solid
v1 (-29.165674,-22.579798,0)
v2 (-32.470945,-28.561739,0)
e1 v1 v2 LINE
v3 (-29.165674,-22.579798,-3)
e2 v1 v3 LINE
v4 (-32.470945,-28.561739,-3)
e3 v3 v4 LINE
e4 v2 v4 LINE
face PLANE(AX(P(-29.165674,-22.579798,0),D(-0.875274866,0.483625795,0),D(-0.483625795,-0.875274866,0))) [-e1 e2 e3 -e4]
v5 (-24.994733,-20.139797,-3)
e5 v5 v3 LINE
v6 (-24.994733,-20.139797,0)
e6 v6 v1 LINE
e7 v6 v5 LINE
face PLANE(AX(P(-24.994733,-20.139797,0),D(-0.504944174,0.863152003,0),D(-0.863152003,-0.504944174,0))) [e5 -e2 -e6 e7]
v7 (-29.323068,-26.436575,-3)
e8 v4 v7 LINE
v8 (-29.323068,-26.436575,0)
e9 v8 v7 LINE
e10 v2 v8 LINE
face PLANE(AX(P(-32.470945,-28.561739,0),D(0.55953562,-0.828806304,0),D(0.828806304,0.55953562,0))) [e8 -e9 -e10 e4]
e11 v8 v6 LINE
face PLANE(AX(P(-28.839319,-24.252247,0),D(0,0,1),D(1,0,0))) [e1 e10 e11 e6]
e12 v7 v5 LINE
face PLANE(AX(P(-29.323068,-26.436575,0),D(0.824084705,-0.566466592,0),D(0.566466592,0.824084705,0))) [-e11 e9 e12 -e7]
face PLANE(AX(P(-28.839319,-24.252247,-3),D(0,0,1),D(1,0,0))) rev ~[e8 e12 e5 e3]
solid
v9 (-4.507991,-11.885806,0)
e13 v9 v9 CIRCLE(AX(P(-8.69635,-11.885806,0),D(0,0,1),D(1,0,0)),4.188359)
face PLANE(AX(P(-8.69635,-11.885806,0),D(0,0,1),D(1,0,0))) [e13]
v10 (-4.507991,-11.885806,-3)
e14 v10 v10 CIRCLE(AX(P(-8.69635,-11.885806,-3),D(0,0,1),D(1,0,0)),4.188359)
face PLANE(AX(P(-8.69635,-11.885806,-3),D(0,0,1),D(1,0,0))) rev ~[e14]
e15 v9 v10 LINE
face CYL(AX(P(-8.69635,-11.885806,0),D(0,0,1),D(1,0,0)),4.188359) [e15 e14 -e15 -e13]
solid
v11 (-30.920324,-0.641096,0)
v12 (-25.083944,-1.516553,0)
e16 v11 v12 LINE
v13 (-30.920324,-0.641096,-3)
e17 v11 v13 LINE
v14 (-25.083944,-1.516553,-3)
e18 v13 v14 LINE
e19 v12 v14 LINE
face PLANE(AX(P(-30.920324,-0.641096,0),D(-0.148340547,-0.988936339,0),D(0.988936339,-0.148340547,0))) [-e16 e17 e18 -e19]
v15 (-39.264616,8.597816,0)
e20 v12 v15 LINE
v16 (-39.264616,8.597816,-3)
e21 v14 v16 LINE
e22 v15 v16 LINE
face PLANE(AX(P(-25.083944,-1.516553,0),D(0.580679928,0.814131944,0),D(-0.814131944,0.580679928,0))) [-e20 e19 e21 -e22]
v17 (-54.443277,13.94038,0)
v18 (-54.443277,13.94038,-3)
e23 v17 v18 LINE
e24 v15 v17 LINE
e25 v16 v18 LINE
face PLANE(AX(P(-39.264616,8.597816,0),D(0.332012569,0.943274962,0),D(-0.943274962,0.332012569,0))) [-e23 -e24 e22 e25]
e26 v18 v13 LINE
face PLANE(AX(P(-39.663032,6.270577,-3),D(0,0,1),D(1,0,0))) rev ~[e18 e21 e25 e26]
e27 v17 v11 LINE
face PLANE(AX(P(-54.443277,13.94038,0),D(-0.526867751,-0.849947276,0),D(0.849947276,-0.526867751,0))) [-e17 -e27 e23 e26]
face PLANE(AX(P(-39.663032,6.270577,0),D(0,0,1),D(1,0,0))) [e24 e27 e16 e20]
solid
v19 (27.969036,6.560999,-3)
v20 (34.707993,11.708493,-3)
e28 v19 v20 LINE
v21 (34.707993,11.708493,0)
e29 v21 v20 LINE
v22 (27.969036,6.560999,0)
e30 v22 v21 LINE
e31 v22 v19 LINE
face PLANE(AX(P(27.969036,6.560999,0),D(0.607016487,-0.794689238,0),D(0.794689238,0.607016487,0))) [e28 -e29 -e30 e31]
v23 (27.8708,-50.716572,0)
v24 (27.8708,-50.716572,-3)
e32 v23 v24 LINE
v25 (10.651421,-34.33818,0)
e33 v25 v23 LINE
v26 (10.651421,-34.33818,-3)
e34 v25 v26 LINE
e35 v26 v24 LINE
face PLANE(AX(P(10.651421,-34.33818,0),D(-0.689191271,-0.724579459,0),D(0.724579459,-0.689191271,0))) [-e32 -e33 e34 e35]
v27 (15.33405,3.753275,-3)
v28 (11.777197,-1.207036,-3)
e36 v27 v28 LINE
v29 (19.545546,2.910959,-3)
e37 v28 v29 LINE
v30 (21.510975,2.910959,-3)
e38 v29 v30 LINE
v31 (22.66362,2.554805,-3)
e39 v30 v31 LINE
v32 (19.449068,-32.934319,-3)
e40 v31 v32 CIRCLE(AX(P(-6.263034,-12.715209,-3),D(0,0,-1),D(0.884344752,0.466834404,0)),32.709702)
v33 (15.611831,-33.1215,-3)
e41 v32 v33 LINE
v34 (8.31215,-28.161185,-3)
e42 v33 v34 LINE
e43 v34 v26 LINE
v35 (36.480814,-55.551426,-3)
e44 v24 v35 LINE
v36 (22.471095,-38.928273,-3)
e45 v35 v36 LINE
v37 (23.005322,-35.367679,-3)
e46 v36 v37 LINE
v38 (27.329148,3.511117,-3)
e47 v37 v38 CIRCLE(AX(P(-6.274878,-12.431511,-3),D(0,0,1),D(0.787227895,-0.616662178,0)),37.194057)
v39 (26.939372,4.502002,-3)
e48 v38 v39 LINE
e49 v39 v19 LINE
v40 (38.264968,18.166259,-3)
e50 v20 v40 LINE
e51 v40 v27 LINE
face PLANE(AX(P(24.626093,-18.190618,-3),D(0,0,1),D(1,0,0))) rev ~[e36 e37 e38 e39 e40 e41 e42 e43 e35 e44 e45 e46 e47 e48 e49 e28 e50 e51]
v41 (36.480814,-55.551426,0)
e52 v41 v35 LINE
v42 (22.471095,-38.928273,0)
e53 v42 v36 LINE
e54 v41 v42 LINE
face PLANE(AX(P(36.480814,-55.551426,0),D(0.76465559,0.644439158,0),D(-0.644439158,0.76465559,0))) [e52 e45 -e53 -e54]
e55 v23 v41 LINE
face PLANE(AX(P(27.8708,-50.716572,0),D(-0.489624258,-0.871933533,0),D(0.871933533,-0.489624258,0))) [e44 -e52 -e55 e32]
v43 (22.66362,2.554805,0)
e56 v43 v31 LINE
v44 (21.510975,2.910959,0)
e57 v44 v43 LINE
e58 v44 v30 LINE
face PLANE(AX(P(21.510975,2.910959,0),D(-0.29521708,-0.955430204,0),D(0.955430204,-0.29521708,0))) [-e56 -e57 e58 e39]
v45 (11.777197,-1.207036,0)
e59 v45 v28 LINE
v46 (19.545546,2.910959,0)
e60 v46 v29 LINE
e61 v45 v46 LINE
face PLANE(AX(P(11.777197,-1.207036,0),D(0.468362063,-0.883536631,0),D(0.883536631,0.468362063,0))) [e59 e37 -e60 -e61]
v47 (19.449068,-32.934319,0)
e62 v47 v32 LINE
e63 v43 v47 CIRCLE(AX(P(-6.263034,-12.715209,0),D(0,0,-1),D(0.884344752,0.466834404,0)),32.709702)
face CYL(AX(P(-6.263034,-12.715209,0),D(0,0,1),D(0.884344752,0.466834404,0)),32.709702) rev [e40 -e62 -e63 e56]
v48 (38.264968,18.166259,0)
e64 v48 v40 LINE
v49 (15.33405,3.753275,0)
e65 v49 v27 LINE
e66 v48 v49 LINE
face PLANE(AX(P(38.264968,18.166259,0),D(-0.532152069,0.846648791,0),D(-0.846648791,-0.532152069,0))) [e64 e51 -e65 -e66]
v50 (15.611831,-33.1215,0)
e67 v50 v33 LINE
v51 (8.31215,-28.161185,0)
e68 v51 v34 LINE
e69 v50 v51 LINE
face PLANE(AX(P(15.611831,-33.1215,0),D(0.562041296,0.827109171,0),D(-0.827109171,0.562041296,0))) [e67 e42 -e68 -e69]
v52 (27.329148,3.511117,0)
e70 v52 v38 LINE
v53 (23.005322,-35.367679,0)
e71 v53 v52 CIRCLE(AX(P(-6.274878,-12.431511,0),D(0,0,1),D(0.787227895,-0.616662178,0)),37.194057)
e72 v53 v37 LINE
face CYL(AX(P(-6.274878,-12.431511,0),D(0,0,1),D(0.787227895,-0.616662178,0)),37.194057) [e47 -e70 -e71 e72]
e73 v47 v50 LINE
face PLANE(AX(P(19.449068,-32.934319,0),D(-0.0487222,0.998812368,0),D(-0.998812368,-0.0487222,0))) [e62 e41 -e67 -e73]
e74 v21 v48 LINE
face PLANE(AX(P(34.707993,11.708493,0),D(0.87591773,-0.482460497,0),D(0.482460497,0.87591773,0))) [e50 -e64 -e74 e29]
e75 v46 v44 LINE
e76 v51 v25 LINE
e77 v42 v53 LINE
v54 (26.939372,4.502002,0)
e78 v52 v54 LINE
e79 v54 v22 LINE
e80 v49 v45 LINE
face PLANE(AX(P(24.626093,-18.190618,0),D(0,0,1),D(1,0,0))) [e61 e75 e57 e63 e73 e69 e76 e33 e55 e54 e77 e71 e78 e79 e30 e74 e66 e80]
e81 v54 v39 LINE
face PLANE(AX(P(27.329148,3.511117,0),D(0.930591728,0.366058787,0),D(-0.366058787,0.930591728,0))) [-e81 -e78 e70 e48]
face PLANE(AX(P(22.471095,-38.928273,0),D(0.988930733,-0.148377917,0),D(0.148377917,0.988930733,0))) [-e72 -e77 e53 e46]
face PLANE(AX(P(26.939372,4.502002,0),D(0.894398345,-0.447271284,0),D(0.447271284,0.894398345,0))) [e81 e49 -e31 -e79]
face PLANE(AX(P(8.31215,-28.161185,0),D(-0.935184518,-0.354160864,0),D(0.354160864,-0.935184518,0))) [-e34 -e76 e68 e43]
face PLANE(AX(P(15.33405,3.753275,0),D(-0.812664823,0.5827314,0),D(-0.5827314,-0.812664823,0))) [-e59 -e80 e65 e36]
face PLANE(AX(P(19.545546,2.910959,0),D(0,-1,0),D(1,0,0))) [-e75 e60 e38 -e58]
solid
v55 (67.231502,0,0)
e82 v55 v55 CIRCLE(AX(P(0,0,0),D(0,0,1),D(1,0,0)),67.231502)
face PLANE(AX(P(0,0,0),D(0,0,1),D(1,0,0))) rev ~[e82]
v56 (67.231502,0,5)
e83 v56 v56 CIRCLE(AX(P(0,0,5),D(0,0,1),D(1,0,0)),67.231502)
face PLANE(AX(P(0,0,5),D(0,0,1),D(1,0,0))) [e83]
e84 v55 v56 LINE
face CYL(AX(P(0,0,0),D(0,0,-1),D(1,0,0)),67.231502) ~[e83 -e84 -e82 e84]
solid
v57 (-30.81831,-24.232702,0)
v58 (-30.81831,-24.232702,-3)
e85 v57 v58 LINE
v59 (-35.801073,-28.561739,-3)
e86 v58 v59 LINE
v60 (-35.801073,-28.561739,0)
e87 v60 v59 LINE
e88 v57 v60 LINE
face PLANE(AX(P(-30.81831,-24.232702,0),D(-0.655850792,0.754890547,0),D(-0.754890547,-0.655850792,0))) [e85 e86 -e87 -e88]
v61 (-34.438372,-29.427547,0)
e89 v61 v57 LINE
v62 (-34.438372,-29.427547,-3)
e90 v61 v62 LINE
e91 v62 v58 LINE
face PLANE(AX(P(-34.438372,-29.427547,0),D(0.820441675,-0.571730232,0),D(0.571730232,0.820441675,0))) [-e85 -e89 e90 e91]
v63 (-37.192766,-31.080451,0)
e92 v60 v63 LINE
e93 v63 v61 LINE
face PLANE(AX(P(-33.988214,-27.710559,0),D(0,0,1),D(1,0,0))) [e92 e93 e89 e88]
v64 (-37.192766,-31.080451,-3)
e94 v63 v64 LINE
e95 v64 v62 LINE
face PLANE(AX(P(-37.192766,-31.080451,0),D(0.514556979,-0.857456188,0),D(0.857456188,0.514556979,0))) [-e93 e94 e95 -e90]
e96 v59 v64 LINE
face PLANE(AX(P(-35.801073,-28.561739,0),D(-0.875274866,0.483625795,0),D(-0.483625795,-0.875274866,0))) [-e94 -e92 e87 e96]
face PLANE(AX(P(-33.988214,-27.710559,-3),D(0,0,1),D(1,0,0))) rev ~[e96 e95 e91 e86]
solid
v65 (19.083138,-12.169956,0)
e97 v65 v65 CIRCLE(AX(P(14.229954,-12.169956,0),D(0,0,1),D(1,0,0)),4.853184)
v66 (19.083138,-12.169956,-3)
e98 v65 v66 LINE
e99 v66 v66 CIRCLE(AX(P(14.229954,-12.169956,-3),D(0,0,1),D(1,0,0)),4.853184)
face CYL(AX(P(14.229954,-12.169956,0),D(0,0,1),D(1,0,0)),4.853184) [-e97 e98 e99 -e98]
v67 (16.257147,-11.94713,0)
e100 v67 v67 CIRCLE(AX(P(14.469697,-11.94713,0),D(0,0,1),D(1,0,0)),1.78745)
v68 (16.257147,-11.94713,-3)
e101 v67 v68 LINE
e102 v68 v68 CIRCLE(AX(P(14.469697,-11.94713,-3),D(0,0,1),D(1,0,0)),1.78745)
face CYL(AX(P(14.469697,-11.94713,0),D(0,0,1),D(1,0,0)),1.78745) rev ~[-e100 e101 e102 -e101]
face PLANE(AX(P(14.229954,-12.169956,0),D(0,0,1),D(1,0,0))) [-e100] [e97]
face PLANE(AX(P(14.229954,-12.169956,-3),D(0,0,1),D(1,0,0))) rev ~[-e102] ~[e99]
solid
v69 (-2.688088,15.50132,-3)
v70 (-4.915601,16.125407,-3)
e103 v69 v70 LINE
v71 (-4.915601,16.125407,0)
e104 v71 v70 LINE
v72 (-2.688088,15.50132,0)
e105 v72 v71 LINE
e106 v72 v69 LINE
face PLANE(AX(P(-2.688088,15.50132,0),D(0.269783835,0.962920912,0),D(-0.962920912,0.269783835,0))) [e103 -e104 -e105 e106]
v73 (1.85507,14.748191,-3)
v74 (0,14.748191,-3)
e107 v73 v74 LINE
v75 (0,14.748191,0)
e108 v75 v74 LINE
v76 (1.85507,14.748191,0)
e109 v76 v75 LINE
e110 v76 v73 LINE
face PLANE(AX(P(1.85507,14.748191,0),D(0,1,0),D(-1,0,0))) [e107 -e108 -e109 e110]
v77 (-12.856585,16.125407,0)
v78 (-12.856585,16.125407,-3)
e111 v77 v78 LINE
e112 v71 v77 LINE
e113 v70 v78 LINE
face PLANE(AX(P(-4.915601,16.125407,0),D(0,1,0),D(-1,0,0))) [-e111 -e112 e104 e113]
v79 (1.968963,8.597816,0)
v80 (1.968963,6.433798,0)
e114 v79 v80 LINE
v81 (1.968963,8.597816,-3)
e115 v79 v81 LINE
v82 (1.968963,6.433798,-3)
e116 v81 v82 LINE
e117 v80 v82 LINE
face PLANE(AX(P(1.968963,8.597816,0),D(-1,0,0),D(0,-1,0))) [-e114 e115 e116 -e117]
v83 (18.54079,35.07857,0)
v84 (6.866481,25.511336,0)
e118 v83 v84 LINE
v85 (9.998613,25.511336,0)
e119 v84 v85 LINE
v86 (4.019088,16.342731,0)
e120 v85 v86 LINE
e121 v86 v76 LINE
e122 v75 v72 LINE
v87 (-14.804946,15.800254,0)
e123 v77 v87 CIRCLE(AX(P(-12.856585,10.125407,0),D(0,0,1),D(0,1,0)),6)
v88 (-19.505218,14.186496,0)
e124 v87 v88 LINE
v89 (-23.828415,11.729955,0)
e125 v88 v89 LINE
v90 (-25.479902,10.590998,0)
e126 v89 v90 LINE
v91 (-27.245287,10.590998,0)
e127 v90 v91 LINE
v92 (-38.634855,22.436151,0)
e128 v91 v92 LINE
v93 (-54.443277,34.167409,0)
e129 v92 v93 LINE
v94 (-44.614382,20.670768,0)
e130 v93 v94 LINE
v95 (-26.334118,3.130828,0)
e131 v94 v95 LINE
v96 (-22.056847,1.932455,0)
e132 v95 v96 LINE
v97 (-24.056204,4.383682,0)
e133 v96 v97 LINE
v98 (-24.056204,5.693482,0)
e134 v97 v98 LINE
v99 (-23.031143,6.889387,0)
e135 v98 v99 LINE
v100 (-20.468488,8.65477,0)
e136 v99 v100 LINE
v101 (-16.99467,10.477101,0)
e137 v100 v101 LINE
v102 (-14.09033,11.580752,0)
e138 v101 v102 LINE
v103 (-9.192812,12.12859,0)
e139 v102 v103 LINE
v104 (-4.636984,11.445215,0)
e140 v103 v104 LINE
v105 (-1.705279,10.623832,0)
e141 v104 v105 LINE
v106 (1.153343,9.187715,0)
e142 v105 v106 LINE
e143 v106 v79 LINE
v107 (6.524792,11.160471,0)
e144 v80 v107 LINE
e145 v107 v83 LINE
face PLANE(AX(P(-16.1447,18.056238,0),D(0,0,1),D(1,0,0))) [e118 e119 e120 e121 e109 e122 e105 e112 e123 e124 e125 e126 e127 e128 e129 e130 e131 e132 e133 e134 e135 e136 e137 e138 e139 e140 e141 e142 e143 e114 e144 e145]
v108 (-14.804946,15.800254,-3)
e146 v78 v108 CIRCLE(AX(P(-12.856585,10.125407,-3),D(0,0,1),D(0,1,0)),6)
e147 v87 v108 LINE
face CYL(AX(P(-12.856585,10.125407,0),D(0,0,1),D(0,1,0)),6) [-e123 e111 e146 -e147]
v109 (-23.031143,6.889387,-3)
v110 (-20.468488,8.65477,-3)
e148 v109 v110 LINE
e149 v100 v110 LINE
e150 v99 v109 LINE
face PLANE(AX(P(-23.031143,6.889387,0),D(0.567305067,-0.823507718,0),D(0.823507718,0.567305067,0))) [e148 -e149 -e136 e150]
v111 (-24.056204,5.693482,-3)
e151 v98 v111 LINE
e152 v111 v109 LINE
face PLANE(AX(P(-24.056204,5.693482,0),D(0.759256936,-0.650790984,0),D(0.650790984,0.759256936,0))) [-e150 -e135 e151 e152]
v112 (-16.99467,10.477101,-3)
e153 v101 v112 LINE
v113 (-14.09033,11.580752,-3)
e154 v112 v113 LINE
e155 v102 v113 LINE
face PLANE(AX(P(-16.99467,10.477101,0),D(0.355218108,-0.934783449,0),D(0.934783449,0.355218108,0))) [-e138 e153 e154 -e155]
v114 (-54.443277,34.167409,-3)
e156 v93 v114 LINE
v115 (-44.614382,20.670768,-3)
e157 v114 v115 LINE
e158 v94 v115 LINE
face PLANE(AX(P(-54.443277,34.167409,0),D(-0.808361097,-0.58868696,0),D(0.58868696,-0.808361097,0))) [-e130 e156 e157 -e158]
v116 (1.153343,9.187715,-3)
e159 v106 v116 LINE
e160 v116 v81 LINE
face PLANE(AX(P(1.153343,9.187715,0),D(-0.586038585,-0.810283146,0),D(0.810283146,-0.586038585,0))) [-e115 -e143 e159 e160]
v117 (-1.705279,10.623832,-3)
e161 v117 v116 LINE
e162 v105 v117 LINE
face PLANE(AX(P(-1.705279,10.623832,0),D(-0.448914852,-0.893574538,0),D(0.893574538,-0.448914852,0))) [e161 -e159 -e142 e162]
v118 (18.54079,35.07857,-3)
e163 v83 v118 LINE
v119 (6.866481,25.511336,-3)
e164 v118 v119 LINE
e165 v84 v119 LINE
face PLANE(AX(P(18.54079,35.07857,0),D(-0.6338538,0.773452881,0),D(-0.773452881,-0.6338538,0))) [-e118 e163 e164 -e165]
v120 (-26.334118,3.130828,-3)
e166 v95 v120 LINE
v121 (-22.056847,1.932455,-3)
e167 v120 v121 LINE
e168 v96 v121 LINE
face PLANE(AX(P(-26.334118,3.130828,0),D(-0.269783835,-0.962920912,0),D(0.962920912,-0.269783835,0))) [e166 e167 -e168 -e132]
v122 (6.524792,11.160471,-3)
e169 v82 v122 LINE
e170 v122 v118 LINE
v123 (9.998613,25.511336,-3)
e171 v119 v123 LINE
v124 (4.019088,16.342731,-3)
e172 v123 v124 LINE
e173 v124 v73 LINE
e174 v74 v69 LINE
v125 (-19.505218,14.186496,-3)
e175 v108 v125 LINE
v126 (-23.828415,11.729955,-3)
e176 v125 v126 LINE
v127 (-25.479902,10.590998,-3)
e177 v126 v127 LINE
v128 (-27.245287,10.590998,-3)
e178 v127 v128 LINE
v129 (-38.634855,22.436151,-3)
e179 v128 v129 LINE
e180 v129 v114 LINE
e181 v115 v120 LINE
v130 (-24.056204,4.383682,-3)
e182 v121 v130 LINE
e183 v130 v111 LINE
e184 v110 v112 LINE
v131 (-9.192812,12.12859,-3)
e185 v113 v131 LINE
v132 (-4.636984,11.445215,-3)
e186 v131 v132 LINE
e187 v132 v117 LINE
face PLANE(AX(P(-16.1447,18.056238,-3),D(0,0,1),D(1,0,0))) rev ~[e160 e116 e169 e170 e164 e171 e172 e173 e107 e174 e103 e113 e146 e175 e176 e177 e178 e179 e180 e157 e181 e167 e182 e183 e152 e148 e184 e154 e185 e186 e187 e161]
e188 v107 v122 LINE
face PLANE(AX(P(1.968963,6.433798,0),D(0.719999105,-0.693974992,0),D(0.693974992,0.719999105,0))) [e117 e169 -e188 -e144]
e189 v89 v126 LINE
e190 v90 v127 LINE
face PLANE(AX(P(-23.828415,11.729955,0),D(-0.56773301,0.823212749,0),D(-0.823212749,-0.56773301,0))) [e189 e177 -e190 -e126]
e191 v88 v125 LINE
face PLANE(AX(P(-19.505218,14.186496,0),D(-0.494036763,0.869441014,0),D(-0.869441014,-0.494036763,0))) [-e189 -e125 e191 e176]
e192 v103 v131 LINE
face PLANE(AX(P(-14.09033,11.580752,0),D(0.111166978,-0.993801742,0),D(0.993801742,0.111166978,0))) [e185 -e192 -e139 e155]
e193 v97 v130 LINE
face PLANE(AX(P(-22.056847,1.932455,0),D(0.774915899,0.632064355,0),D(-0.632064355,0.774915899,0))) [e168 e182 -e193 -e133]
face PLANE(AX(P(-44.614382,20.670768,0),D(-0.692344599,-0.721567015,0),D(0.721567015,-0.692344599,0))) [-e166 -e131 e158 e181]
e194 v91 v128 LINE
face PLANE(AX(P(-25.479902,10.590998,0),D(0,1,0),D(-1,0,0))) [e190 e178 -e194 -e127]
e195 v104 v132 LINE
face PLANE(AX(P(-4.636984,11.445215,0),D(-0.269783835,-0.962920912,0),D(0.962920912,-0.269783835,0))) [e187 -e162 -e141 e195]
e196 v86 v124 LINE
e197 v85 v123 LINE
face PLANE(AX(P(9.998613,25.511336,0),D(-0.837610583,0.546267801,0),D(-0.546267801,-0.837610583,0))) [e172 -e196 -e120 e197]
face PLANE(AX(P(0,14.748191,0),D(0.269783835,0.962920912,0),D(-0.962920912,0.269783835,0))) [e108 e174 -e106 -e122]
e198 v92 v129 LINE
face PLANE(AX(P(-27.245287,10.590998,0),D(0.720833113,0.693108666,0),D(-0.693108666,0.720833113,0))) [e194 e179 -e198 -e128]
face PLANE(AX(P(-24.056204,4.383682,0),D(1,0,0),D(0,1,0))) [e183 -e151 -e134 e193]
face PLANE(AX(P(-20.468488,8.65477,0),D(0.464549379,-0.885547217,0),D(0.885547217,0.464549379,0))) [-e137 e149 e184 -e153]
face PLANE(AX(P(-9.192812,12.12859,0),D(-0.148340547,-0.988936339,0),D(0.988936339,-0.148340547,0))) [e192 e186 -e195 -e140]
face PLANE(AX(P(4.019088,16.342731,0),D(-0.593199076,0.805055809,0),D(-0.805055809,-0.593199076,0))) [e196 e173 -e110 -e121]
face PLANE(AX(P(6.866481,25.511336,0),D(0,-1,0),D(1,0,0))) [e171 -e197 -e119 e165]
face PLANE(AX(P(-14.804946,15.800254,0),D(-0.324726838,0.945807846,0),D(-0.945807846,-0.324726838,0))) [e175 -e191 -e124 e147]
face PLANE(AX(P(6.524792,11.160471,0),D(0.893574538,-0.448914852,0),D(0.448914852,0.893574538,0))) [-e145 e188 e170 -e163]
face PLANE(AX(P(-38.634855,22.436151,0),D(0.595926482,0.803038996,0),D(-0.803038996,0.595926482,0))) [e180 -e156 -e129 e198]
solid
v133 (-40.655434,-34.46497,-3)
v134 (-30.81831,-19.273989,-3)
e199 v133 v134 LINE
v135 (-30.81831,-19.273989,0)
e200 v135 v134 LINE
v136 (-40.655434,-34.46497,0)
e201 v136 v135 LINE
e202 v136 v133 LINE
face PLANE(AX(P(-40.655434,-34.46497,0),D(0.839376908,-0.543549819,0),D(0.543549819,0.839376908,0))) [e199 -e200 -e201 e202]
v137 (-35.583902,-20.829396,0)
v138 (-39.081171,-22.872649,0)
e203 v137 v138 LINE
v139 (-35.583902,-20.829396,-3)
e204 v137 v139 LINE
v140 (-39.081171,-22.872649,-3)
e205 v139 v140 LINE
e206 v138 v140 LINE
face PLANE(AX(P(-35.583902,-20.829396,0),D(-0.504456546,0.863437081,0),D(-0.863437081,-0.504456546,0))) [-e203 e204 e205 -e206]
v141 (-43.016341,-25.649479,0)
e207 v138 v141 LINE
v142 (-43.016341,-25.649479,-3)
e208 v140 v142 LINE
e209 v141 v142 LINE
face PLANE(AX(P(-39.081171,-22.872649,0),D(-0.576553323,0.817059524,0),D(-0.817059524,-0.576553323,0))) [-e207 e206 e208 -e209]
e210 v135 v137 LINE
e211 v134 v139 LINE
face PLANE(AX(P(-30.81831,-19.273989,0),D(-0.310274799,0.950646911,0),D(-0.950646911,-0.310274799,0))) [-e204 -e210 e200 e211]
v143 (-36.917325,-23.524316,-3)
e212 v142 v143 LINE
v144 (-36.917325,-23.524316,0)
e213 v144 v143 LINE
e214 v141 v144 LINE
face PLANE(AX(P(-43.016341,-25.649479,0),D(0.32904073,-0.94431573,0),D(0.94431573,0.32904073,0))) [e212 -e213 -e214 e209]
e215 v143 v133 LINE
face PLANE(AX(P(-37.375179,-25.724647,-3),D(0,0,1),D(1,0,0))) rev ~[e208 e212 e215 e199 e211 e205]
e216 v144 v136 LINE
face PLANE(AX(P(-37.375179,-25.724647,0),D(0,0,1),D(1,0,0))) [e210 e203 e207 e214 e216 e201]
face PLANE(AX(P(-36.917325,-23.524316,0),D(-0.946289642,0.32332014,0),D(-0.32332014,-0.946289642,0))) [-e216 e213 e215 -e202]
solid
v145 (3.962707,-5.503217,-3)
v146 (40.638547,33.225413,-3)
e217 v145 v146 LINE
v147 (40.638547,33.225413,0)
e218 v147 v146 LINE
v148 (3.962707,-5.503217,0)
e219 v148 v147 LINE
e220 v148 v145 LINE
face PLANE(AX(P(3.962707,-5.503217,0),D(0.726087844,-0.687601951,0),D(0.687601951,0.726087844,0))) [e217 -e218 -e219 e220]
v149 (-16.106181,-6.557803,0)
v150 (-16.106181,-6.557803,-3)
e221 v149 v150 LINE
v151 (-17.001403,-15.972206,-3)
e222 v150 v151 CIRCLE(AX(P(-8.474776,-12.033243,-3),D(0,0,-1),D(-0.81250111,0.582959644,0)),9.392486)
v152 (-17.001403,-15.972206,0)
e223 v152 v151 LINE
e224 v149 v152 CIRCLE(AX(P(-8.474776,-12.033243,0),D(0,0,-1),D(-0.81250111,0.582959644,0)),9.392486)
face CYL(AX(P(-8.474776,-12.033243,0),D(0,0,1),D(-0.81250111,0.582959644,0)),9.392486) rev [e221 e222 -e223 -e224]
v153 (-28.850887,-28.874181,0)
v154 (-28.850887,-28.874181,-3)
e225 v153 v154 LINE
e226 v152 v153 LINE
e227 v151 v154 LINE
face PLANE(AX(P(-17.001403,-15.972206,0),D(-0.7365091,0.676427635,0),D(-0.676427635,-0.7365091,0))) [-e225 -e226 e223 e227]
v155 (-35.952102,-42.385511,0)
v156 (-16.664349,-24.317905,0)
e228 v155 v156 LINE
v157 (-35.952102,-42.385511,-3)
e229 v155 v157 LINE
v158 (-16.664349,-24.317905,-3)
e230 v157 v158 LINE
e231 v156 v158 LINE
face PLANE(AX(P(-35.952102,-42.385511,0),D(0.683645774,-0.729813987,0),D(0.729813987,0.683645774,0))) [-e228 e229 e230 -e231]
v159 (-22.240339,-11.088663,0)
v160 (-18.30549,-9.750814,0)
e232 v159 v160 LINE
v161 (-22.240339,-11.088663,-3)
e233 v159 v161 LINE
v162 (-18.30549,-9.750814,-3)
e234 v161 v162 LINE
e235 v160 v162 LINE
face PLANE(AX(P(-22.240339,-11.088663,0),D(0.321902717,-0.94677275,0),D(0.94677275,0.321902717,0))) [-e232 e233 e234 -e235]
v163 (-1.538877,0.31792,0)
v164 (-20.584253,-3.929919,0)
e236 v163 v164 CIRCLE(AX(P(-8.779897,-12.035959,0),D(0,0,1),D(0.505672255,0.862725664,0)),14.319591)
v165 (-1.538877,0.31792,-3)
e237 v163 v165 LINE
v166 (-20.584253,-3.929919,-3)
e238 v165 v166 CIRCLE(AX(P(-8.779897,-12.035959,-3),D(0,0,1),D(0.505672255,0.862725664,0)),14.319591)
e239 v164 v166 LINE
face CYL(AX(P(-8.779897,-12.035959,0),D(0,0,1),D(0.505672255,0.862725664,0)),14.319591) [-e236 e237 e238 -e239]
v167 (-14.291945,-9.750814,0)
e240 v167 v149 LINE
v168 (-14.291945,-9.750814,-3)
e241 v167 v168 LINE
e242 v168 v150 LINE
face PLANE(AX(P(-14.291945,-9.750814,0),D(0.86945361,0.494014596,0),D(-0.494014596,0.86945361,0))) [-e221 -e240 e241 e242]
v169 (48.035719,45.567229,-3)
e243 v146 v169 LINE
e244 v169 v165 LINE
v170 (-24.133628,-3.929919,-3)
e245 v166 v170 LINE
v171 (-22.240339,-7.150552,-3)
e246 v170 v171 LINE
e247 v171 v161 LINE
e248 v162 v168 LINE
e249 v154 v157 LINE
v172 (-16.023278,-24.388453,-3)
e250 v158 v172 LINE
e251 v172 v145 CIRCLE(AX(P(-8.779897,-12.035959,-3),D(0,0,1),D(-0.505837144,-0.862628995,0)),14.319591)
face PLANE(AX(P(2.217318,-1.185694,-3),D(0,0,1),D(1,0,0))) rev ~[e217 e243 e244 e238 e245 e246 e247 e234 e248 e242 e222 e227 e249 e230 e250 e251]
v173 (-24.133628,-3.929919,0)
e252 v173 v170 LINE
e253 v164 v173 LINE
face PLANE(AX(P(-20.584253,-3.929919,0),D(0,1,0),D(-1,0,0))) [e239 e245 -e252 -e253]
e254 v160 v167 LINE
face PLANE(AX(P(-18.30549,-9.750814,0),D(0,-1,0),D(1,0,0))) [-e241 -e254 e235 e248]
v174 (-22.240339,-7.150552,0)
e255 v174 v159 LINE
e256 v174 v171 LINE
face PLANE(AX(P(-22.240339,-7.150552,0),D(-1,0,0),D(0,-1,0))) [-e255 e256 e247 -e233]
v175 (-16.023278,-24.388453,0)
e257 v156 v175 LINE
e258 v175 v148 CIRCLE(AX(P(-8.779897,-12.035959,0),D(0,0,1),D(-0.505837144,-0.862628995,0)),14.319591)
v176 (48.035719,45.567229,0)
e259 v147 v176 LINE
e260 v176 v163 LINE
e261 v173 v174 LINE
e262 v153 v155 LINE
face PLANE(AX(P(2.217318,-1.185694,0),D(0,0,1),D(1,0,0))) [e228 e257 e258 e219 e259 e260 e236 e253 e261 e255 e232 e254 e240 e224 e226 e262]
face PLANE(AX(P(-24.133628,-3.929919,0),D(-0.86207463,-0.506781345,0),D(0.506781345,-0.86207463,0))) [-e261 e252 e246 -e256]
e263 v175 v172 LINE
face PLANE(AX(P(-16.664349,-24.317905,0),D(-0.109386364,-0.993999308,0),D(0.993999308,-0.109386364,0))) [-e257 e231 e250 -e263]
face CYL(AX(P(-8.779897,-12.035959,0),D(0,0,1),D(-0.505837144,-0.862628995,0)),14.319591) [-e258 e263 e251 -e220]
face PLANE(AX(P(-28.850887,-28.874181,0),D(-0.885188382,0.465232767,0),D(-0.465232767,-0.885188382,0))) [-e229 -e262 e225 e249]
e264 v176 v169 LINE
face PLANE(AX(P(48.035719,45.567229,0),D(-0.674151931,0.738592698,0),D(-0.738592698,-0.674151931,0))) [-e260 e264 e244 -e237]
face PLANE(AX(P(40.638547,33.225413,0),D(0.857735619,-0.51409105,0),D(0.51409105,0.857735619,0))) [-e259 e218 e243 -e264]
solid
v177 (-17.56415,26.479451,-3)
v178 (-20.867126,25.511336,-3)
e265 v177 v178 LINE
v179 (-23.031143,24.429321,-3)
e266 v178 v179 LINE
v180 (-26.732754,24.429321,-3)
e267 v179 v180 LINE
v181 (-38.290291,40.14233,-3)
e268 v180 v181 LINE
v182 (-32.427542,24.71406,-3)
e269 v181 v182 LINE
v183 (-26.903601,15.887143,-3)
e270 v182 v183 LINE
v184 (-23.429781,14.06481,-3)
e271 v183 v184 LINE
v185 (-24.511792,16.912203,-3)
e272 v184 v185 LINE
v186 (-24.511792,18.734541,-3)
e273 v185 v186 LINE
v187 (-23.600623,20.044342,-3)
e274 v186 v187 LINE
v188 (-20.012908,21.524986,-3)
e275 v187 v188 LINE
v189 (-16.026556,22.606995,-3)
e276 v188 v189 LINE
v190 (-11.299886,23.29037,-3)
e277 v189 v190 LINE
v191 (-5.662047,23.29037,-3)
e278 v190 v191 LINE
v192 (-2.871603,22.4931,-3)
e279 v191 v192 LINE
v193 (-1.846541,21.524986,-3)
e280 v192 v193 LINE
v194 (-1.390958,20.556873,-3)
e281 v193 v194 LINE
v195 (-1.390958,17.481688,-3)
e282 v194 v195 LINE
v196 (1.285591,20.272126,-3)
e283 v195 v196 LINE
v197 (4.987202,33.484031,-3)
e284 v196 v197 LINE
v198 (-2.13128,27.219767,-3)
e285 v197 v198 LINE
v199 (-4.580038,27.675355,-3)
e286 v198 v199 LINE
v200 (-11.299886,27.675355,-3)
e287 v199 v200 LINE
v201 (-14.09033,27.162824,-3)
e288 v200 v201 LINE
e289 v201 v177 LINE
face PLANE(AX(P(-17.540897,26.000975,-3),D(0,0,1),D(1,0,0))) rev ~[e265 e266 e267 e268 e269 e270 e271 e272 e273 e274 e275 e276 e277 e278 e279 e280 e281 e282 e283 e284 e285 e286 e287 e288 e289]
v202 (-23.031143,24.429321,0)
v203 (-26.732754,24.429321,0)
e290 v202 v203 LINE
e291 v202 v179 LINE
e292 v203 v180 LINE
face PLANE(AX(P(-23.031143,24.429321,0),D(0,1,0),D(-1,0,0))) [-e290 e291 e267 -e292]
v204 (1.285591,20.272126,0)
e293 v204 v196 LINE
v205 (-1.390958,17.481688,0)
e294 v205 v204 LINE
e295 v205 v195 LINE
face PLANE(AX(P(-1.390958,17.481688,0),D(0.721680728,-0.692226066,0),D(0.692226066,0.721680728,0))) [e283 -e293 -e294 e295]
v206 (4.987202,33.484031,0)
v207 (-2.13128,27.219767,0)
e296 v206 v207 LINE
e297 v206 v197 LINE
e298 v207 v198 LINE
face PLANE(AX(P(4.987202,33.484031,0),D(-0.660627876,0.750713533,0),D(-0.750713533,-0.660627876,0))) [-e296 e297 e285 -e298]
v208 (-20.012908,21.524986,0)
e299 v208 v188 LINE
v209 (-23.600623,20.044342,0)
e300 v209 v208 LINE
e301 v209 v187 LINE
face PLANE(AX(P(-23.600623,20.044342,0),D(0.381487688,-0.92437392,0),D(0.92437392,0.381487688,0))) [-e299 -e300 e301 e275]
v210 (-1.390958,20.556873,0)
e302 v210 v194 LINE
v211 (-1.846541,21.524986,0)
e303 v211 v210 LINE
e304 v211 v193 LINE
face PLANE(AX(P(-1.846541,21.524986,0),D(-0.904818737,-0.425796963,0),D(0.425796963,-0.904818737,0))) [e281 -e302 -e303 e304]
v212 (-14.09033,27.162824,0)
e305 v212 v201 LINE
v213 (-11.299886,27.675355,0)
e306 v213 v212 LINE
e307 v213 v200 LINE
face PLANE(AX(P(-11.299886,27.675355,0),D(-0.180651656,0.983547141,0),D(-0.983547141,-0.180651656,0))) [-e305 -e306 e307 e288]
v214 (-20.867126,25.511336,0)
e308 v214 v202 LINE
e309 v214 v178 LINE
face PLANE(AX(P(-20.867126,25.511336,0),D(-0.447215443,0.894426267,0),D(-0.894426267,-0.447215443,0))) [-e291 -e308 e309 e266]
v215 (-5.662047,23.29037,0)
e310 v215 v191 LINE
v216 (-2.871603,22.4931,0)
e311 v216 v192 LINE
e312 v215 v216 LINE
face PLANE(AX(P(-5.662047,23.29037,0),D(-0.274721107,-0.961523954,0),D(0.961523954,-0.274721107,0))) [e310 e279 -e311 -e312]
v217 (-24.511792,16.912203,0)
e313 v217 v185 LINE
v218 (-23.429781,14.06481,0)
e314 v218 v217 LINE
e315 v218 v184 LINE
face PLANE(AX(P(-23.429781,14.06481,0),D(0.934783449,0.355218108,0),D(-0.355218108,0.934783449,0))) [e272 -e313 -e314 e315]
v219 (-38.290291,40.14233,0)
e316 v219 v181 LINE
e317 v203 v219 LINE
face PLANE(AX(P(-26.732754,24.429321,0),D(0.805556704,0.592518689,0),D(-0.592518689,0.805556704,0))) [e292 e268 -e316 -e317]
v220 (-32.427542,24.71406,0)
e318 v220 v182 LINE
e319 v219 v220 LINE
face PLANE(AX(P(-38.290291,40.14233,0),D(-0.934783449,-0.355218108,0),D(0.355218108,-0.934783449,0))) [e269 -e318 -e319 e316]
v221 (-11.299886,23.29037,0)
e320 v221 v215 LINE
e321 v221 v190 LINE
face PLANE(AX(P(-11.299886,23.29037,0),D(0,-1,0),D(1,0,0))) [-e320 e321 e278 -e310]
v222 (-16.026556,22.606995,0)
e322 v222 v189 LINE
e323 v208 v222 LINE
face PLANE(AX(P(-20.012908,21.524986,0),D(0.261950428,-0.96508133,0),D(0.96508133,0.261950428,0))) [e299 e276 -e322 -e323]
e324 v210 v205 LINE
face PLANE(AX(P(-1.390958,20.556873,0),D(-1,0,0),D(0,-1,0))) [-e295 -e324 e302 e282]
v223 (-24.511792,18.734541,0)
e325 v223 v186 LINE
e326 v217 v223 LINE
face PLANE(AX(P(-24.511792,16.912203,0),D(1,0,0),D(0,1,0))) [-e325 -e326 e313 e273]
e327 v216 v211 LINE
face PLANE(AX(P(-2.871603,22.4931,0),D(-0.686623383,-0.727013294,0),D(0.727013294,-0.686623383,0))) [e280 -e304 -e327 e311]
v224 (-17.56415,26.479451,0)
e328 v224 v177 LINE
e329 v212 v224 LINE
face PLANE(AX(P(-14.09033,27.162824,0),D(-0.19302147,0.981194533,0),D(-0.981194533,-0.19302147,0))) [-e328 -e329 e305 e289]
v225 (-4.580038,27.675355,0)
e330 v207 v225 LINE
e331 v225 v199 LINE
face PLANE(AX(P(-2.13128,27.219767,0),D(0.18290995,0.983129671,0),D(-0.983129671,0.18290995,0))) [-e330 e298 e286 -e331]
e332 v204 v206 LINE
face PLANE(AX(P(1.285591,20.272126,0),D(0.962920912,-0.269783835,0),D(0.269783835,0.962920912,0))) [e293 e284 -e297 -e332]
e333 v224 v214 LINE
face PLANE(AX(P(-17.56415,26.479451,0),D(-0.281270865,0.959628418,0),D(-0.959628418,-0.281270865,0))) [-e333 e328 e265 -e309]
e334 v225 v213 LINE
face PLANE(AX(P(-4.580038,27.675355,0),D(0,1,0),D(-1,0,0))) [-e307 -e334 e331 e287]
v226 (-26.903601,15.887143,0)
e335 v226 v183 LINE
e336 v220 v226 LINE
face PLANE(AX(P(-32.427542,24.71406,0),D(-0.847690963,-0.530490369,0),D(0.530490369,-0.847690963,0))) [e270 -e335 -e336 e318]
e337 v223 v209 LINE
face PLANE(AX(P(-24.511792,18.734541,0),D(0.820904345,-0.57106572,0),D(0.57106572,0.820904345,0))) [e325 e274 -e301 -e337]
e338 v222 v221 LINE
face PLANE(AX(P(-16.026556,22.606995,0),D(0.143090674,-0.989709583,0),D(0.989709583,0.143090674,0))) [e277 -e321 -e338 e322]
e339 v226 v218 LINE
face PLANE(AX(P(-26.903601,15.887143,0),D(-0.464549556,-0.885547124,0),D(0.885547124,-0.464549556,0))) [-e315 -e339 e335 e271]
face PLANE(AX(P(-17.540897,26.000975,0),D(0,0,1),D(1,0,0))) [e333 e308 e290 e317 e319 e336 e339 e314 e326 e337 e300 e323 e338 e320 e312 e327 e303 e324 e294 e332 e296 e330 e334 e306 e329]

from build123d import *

# Parameters (mm, degrees)
F1_DEPTH = 3
F0_R     = 4.1883585847
F0_R_2   = 4.8531837551
F0_R_3   = 1.7874503883
F0_R_4   = 67.2315018971
F2_DEPTH = 5


with BuildPart() as f1:
    # F0 (on Top) → F1 (new body)
    with BuildSketch(Plane.XY):
        with BuildLine():
            Line((6.524791941, 11.1604705453), (18.5407903045, 35.0785702467))
            Line((18.5407903045, 35.0785702467), (6.8664811552, 25.5113355815))
            Line((6.8664811552, 25.5113355815), (9.9986130372, 25.5113355815))
            Line((9.9986130372, 25.5113355815), (4.0190881118, 16.3427311927))
            Line((4.0190881118, 16.3427311927), (1.8550701207, 14.748191461))
            Line((1.8550701207, 14.748191461), (0, 14.748191461))
            Line((0, 14.748191461), (-2.6880883992, 15.5013195603))
            Line((-2.6880883992, 15.5013195603), (-4.9156010843, 16.1254070699))
            Line((-4.9156010843, 16.1254070699), (-12.8565848023, 16.1254070699))
            ThreePointArc((-12.8565848023, 16.1254070699), (-13.8442379694, 16.0435606013), (-14.8049458285, 15.8002541438))
            Line((-14.8049458285, 15.8002541438), (-19.5052184044, 14.18649649))
            Line((-19.5052184044, 14.18649649), (-23.8284152001, 11.7299547419))
            Line((-23.8284152001, 11.7299547419), (-25.479901582, 10.5909984559))
            Line((-25.479901582, 10.5909984559), (-27.2452868521, 10.5909984559))
            Line((-27.2452868521, 10.5909984559), (-38.6348553002, 22.436151281))
            Line((-38.6348553002, 22.436151281), (-54.4432774186, 34.1674089432))
            Line((-54.4432774186, 34.1674089432), (-44.6143820882, 20.6707678735))
            Line((-44.6143820882, 20.6707678735), (-26.334118098, 3.1308280304))
            Line((-26.334118098, 3.1308280304), (-22.0568471308, 1.9324548836))
            Line((-22.0568471308, 1.9324548836), (-24.0562036633, 4.3836818077))
            Line((-24.0562036633, 4.3836818077), (-24.0562036633, 5.6934817694))
            Line((-24.0562036633, 5.6934817694), (-23.0311434716, 6.8893865682))
            Line((-23.0311434716, 6.8893865682), (-20.4684883356, 8.6547704414))
            Line((-20.4684883356, 8.6547704414), (-16.9946700335, 10.4771014303))
            Line((-16.9946700335, 10.4771014303), (-14.09033034, 11.5807517488))
            Line((-14.09033034, 11.5807517488), (-9.1928122565, 12.1285896748))
            Line((-9.1928122565, 12.1285896748), (-4.6369838528, 11.4452149719))
            Line((-4.6369838528, 11.4452149719), (-1.7052790924, 10.6238322991))
            Line((-1.7052790924, 10.6238322991), (1.1533434658, 9.1877146974))
            Line((1.1533434658, 9.1877146974), (1.9689633045, 8.5978163406))
            Line((1.9689633045, 8.5978163406), (1.9689633045, 6.4337980002))
            Line((1.9689633045, 6.4337980002), (6.524791941, 11.1604705453))
        make_face()
    extrude(amount=-F1_DEPTH)


with BuildPart() as f1b:
    # F0 (on Top) → F1, piece 2 (new body)
    with BuildSketch(Plane.XY):
        Polygon((-26.9036013633, 15.8871430904), (-23.4297811985, 14.0648102388), (-24.5117917657, 16.9122032821), (-24.5117917657, 18.7345407903), (-23.6006230116, 20.0443416834), (-20.0129076838, 21.5249862522), (-16.0265564919, 22.6069949567), (-11.2998858094, 23.2903696597), (-5.6620473042, 23.2903696597), (-2.8716025408, 22.4930997938), (-1.8465407193, 21.5249862522), (-1.390957972, 20.5568727106), (-1.390957972, 17.48168841), (1.2855911627, 20.2721264213), (4.9872016534, 33.484030515), (-2.1312802564, 27.2197667509), (-4.580038134, 27.6753548533), (-7.5982743874, 27.6753548533), (-11.2998858094, 27.6753548533), (-14.09033034, 27.1628238261), (-17.5641495734, 26.4794509858), (-20.8671260625, 25.5113355815), (-23.0311434716, 24.4293212891), (-23.4297811985, 24.4293212891), (-26.7327539623, 24.4293212891), (-38.2902911921, 40.1423304444), (-32.4275419116, 24.7140601277), align=None)
    extrude(amount=-F1_DEPTH)


with BuildPart() as f1c:
    # F0 (on Top) → F1, piece 3 (new body)
    with BuildSketch(Plane.XY):
        Polygon((-30.920324406, -0.6410955102), (-25.0839442015, -1.5165531076), (-39.2646156251, 8.5978163406), (-54.4432774186, 13.9403799549), align=None)
    extrude(amount=-F1_DEPTH)


with BuildPart() as f1d:
    # F0 (on Top) → F1, piece 4 (new body)
    with BuildSketch(Plane.XY):
        Polygon((-36.9173251092, -23.5243160278), (-40.6554341316, -34.4649702311), (-30.8183096349, -19.2739889026), (-35.5839021504, -20.8293963224), (-39.081171155, -22.8726491332), (-43.0163405836, -25.649478659), align=None)
    extrude(amount=-F1_DEPTH)


with BuildPart() as f1e:
    # F0 (on Top) → F1, piece 5 (new body)
    with BuildSketch(Plane.XY):
        Polygon((-34.4383716583, -29.4275470078), (-30.8183096349, -24.2327023298), (-35.8010726204, -28.561739251), (-37.1927656233, -31.0804508626), align=None)
    extrude(amount=-F1_DEPTH)


with BuildPart() as f1f:
    # F0 (on Top) → F1, piece 6 (new body)
    with BuildSketch(Plane.XY):
        Polygon((-29.165674001, -22.5797984749), (-32.4709452689, -28.561739251), (-29.3230675161, -26.4365747571), (-24.994732812, -20.1397966594), align=None)
    extrude(amount=-F1_DEPTH)


with BuildPart() as f1g:
    # F0 (on Top) → F1, piece 7 (new body)
    with BuildSketch(Plane.XY):
        with BuildLine():
            Line((-28.8508869708, -28.874181211), (-35.9521023929, -42.3855111003))
            Line((-35.9521023929, -42.3855111003), (-16.6643485427, -24.3179053068))
            Line((-16.6643485427, -24.3179053068), (-16.0232782364, -24.3884529918))
            ThreePointArc((-16.0232782364, -24.3884529918), (1.0549083614, -22.4439980096), (3.9627072361, -5.5032167894))
            Line((3.9627072361, -5.5032167894), (40.6385473907, 33.2254134119))
            Line((40.6385473907, 33.2254134119), (48.0357185006, 45.5672293901))
            Line((48.0357185006, 45.5672293901), (-1.5388774003, 0.3179199721))
            ThreePointArc((-1.5388774003, 0.3179199721), (-11.897114444, 1.940222604), (-20.5842528774, -3.9299193296))
            Line((-20.5842528774, -3.9299193296), (-24.1336280736, -3.9299193296))
            Line((-24.1336280736, -3.9299193296), (-22.240338847, -7.150552102))
            Line((-22.240338847, -7.150552102), (-22.240338847, -11.0886627808))
            Line((-22.240338847, -11.0886627808), (-18.3054897934, -9.7508141771))
            Line((-18.3054897934, -9.7508141771), (-14.2919449136, -9.7508141771))
            Line((-14.2919449136, -9.7508141771), (-16.1061811793, -6.5578027082))
            ThreePointArc((-16.1061811793, -6.5578027082), (0.8755312536, -12.9223696784), (-17.0014028047, -15.9722055013))
            Line((-17.0014028047, -15.9722055013), (-28.8508869708, -28.874181211))
        make_face()
    extrude(amount=-F1_DEPTH)


with BuildPart() as f1h:
    # F0 (on Top) → F1, piece 8 (new body)
    with BuildSketch(Plane.XY):
        with Locations((-8.6963499838, -11.8858055258)):
            Circle(F0_R)
    extrude(amount=-F1_DEPTH)


with BuildPart() as f1i:
    # F0 (on Top) → F1, piece 9 (new body)
    with BuildSketch(Plane.XY):
        with Locations((14.2299542493, -12.1699558468)):
            Circle(F0_R_2)
        with Locations((14.4696965303, -11.94712984)):
            Circle(F0_R_3, mode=Mode.SUBTRACT)
    extrude(amount=-F1_DEPTH)


with BuildPart() as f1j:
    # F0 (on Top) → F1, piece 10 (new body)
    with BuildSketch(Plane.XY):
        with BuildLine():
            Line((19.5455458015, 2.9109590687), (21.5109754354, 2.9109590687))
            Line((21.5109754354, 2.9109590687), (22.6636195944, 2.5548051165))
            ThreePointArc((22.6636195944, 2.5548051165), (26.3133055863, -15.6659247159), (19.4490682334, -32.9343192279))
            Line((19.4490682334, -32.9343192279), (15.6118310988, -33.1215001643))
            Line((15.6118310988, -33.1215001643), (8.3121499047, -28.1611848623))
            Line((8.3121499047, -28.1611848623), (10.6514208019, -34.3381799757))
            Line((10.6514208019, -34.3381799757), (27.8708003461, -50.7165715098))
            Line((27.8708003461, -50.7165715098), (36.4808142185, -55.5514258753))
            Line((36.4808142185, -55.5514258753), (22.4710945349, -38.9282732765))
            Line((22.4710945349, -38.9282732765), (23.0053216219, -35.3676788509))
            ThreePointArc((23.0053216219, -35.3676788509), (30.6912772846, -16.542626229), (27.3291476131, 3.5111166819))
            Line((27.3291476131, 3.5111166819), (26.9393716007, 4.5020021498))
            Line((26.9393716007, 4.5020021498), (27.9690362513, 6.5609994344))
            Line((27.9690362513, 6.5609994344), (34.707993269, 11.7084933445))
            Line((34.707993269, 11.7084933445), (38.2649675012, 18.1662589312))
            Line((38.2649675012, 18.1662589312), (15.3340501711, 3.7532753777))
            Line((15.3340501711, 3.7532753777), (11.7771970108, -1.2070364319))
            Line((11.7771970108, -1.2070364319), (19.5455458015, 2.9109590687))
        make_face()
    extrude(amount=-F1_DEPTH)


with BuildPart() as f2:
    # F0 (on Top) → F2 (new body)
    with BuildSketch(Plane.XY):
        Circle(F0_R_4)
        Polygon((-35.8010726204, -28.561739251), (-30.8183096349, -24.2327023298), (-34.4383716583, -29.4275470078), (-37.1927656233, -31.0804508626), align=None, mode=Mode.SUBTRACT)
        Polygon((-30.8183096349, -19.2739889026), (-40.6554341316, -34.4649702311), (-36.9173251092, -23.5243160278), (-43.0163405836, -25.649478659), (-39.081171155, -22.8726491332), (-35.5839021504, -20.8293963224), align=None, mode=Mode.SUBTRACT)
        Polygon((-29.3230675161, -26.4365747571), (-32.4709452689, -28.561739251), (-29.165674001, -22.5797984749), (-24.994732812, -20.1397966594), align=None, mode=Mode.SUBTRACT)
        with Locations((-8.6963499838, -11.8858055258)):
            Circle(F0_R, mode=Mode.SUBTRACT)
        with BuildLine():
            Line((22.6636195944, 2.5548051165), (21.5109754354, 2.9109590687))
            Line((21.5109754354, 2.9109590687), (19.5455458015, 2.9109590687))
            Line((19.5455458015, 2.9109590687), (11.7771970108, -1.2070364319))
            Line((11.7771970108, -1.2070364319), (15.3340501711, 3.7532753777))
            Line((15.3340501711, 3.7532753777), (38.2649675012, 18.1662589312))
            Line((38.2649675012, 18.1662589312), (34.707993269, 11.7084933445))
            Line((34.707993269, 11.7084933445), (27.9690362513, 6.5609994344))
            Line((27.9690362513, 6.5609994344), (26.9393716007, 4.5020021498))
            Line((26.9393716007, 4.5020021498), (27.3291476131, 3.5111166819))
            ThreePointArc((27.3291476131, 3.5111166819), (30.6912772846, -16.542626229), (23.0053216219, -35.3676788509))
            Line((23.0053216219, -35.3676788509), (22.4710945349, -38.9282732765))
            Line((22.4710945349, -38.9282732765), (36.4808142185, -55.5514258753))
            Line((36.4808142185, -55.5514258753), (27.8708003461, -50.7165715098))
            Line((27.8708003461, -50.7165715098), (10.6514208019, -34.3381799757))
            Line((10.6514208019, -34.3381799757), (8.3121499047, -28.1611848623))
            Line((8.3121499047, -28.1611848623), (15.6118310988, -33.1215001643))
            Line((15.6118310988, -33.1215001643), (19.4490682334, -32.9343192279))
            ThreePointArc((19.4490682334, -32.9343192279), (26.3133055863, -15.6659247159), (22.6636195944, 2.5548051165))
        make_face(mode=Mode.SUBTRACT)
        with Locations((14.2299542493, -12.1699558468)):
            Circle(F0_R_2, mode=Mode.SUBTRACT)
        Polygon((-39.2646156251, 8.5978163406), (-25.0839442015, -1.5165531076), (-30.920324406, -0.6410955102), (-54.4432774186, 13.9403799549), align=None, mode=Mode.SUBTRACT)
        with BuildLine():
            Line((6.8664811552, 25.5113355815), (18.5407903045, 35.0785702467))
            Line((18.5407903045, 35.0785702467), (6.524791941, 11.1604705453))
            Line((6.524791941, 11.1604705453), (1.9689633045, 6.4337980002))
            Line((1.9689633045, 6.4337980002), (1.9689633045, 8.5978163406))
            Line((1.9689633045, 8.5978163406), (1.1533434658, 9.1877146974))
            Line((1.1533434658, 9.1877146974), (-1.7052790924, 10.6238322991))
            Line((-1.7052790924, 10.6238322991), (-4.6369838528, 11.4452149719))
            Line((-4.6369838528, 11.4452149719), (-9.1928122565, 12.1285896748))
            Line((-9.1928122565, 12.1285896748), (-14.09033034, 11.5807517488))
            Line((-14.09033034, 11.5807517488), (-16.9946700335, 10.4771014303))
            Line((-16.9946700335, 10.4771014303), (-20.4684883356, 8.6547704414))
            Line((-20.4684883356, 8.6547704414), (-23.0311434716, 6.8893865682))
            Line((-23.0311434716, 6.8893865682), (-24.0562036633, 5.6934817694))
            Line((-24.0562036633, 5.6934817694), (-24.0562036633, 4.3836818077))
            Line((-24.0562036633, 4.3836818077), (-22.0568471308, 1.9324548836))
            Line((-22.0568471308, 1.9324548836), (-26.334118098, 3.1308280304))
            Line((-26.334118098, 3.1308280304), (-44.6143820882, 20.6707678735))
            Line((-44.6143820882, 20.6707678735), (-54.4432774186, 34.1674089432))
            Line((-54.4432774186, 34.1674089432), (-38.6348553002, 22.436151281))
            Line((-38.6348553002, 22.436151281), (-27.2452868521, 10.5909984559))
            Line((-27.2452868521, 10.5909984559), (-25.479901582, 10.5909984559))
            Line((-25.479901582, 10.5909984559), (-23.8284152001, 11.7299547419))
            Line((-23.8284152001, 11.7299547419), (-19.5052184044, 14.18649649))
            Line((-19.5052184044, 14.18649649), (-14.8049458285, 15.8002541438))
            ThreePointArc((-14.8049458285, 15.8002541438), (-13.8442379694, 16.0435606013), (-12.8565848023, 16.1254070699))
            Line((-12.8565848023, 16.1254070699), (-4.9156010843, 16.1254070699))
            Line((-4.9156010843, 16.1254070699), (-2.6880883992, 15.5013195603))
            Line((-2.6880883992, 15.5013195603), (0, 14.748191461))
            Line((0, 14.748191461), (1.8550701207, 14.748191461))
            Line((1.8550701207, 14.748191461), (4.0190881118, 16.3427311927))
            Line((4.0190881118, 16.3427311927), (9.9986130372, 25.5113355815))
            Line((9.9986130372, 25.5113355815), (6.8664811552, 25.5113355815))
        make_face(mode=Mode.SUBTRACT)
        Polygon((-24.5117917657, 16.9122032821), (-23.4297811985, 14.0648102388), (-26.9036013633, 15.8871430904), (-32.4275419116, 24.7140601277), (-38.2902911921, 40.1423304444), (-26.7327539623, 24.4293212891), (-23.4297811985, 24.4293212891), (-23.0311434716, 24.4293212891), (-20.8671260625, 25.5113355815), (-17.5641495734, 26.4794509858), (-14.09033034, 27.1628238261), (-11.2998858094, 27.6753548533), (-7.5982743874, 27.6753548533), (-4.580038134, 27.6753548533), (-2.1312802564, 27.2197667509), (4.9872016534, 33.484030515), (1.2855911627, 20.2721264213), (-1.390957972, 17.48168841), (-1.390957972, 20.5568727106), (-1.8465407193, 21.5249862522), (-2.8716025408, 22.4930997938), (-5.6620473042, 23.2903696597), (-11.2998858094, 23.2903696597), (-16.0265564919, 22.6069949567), (-20.0129076838, 21.5249862522), (-23.6006230116, 20.0443416834), (-24.5117917657, 18.7345407903), align=None, mode=Mode.SUBTRACT)
        with BuildLine():
            Line((-16.6643485427, -24.3179053068), (-35.9521023929, -42.3855111003))
            Line((-35.9521023929, -42.3855111003), (-28.8508869708, -28.874181211))
            Line((-28.8508869708, -28.874181211), (-17.0014028047, -15.9722055013))
            ThreePointArc((-17.0014028047, -15.9722055013), (0.8755312536, -12.9223696784), (-16.1061811793, -6.5578027082))
            Line((-16.1061811793, -6.5578027082), (-14.2919449136, -9.7508141771))
            Line((-14.2919449136, -9.7508141771), (-18.3054897934, -9.7508141771))
            Line((-18.3054897934, -9.7508141771), (-22.240338847, -11.0886627808))
            Line((-22.240338847, -11.0886627808), (-22.240338847, -7.150552102))
            Line((-22.240338847, -7.150552102), (-24.1336280736, -3.9299193296))
            Line((-24.1336280736, -3.9299193296), (-20.5842528774, -3.9299193296))
            ThreePointArc((-20.5842528774, -3.9299193296), (-11.897114444, 1.940222604), (-1.5388774003, 0.3179199721))
            Line((-1.5388774003, 0.3179199721), (48.0357185006, 45.5672293901))
            Line((48.0357185006, 45.5672293901), (40.6385473907, 33.2254134119))
            Line((40.6385473907, 33.2254134119), (3.9627072361, -5.5032167894))
            ThreePointArc((3.9627072361, -5.5032167894), (1.0549083614, -22.4439980096), (-16.0232782364, -24.3884529918))
            Line((-16.0232782364, -24.3884529918), (-16.6643485427, -24.3179053068))
        make_face(mode=Mode.SUBTRACT)
        with BuildLine():
            Line((-28.8508869708, -28.874181211), (-35.9521023929, -42.3855111003))
            Line((-35.9521023929, -42.3855111003), (-16.6643485427, -24.3179053068))
            Line((-16.6643485427, -24.3179053068), (-16.0232782364, -24.3884529918))
            ThreePointArc((-16.0232782364, -24.3884529918), (1.0549083614, -22.4439980096), (3.9627072361, -5.5032167894))
            Line((3.9627072361, -5.5032167894), (40.6385473907, 33.2254134119))
            Line((40.6385473907, 33.2254134119), (48.0357185006, 45.5672293901))
            Line((48.0357185006, 45.5672293901), (-1.5388774003, 0.3179199721))
            ThreePointArc((-1.5388774003, 0.3179199721), (-11.897114444, 1.940222604), (-20.5842528774, -3.9299193296))
            Line((-20.5842528774, -3.9299193296), (-24.1336280736, -3.9299193296))
            Line((-24.1336280736, -3.9299193296), (-22.240338847, -7.150552102))
            Line((-22.240338847, -7.150552102), (-22.240338847, -11.0886627808))
            Line((-22.240338847, -11.0886627808), (-18.3054897934, -9.7508141771))
            Line((-18.3054897934, -9.7508141771), (-14.2919449136, -9.7508141771))
            Line((-14.2919449136, -9.7508141771), (-16.1061811793, -6.5578027082))
            ThreePointArc((-16.1061811793, -6.5578027082), (0.8755312536, -12.9223696784), (-17.0014028047, -15.9722055013))
            Line((-17.0014028047, -15.9722055013), (-28.8508869708, -28.874181211))
        make_face()
        with BuildLine():
            Line((19.5455458015, 2.9109590687), (21.5109754354, 2.9109590687))
            Line((21.5109754354, 2.9109590687), (22.6636195944, 2.5548051165))
            ThreePointArc((22.6636195944, 2.5548051165), (26.3133055863, -15.6659247159), (19.4490682334, -32.9343192279))
            Line((19.4490682334, -32.9343192279), (15.6118310988, -33.1215001643))
            Line((15.6118310988, -33.1215001643), (8.3121499047, -28.1611848623))
            Line((8.3121499047, -28.1611848623), (10.6514208019, -34.3381799757))
            Line((10.6514208019, -34.3381799757), (27.8708003461, -50.7165715098))
            Line((27.8708003461, -50.7165715098), (36.4808142185, -55.5514258753))
            Line((36.4808142185, -55.5514258753), (22.4710945349, -38.9282732765))
            Line((22.4710945349, -38.9282732765), (23.0053216219, -35.3676788509))
            ThreePointArc((23.0053216219, -35.3676788509), (30.6912772846, -16.542626229), (27.3291476131, 3.5111166819))
            Line((27.3291476131, 3.5111166819), (26.9393716007, 4.5020021498))
            Line((26.9393716007, 4.5020021498), (27.9690362513, 6.5609994344))
            Line((27.9690362513, 6.5609994344), (34.707993269, 11.7084933445))
            Line((34.707993269, 11.7084933445), (38.2649675012, 18.1662589312))
            Line((38.2649675012, 18.1662589312), (15.3340501711, 3.7532753777))
            Line((15.3340501711, 3.7532753777), (11.7771970108, -1.2070364319))
            Line((11.7771970108, -1.2070364319), (19.5455458015, 2.9109590687))
        make_face()
        with BuildLine():
            Line((6.524791941, 11.1604705453), (18.5407903045, 35.0785702467))
            Line((18.5407903045, 35.0785702467), (6.8664811552, 25.5113355815))
            Line((6.8664811552, 25.5113355815), (9.9986130372, 25.5113355815))
            Line((9.9986130372, 25.5113355815), (4.0190881118, 16.3427311927))
            Line((4.0190881118, 16.3427311927), (1.8550701207, 14.748191461))
            Line((1.8550701207, 14.748191461), (0, 14.748191461))
            Line((0, 14.748191461), (-2.6880883992, 15.5013195603))
            Line((-2.6880883992, 15.5013195603), (-4.9156010843, 16.1254070699))
            Line((-4.9156010843, 16.1254070699), (-12.8565848023, 16.1254070699))
            ThreePointArc((-12.8565848023, 16.1254070699), (-13.8442379694, 16.0435606013), (-14.8049458285, 15.8002541438))
            Line((-14.8049458285, 15.8002541438), (-19.5052184044, 14.18649649))
            Line((-19.5052184044, 14.18649649), (-23.8284152001, 11.7299547419))
            Line((-23.8284152001, 11.7299547419), (-25.479901582, 10.5909984559))
            Line((-25.479901582, 10.5909984559), (-27.2452868521, 10.5909984559))
            Line((-27.2452868521, 10.5909984559), (-38.6348553002, 22.436151281))
            Line((-38.6348553002, 22.436151281), (-54.4432774186, 34.1674089432))
            Line((-54.4432774186, 34.1674089432), (-44.6143820882, 20.6707678735))
            Line((-44.6143820882, 20.6707678735), (-26.334118098, 3.1308280304))
            Line((-26.334118098, 3.1308280304), (-22.0568471308, 1.9324548836))
            Line((-22.0568471308, 1.9324548836), (-24.0562036633, 4.3836818077))
            Line((-24.0562036633, 4.3836818077), (-24.0562036633, 5.6934817694))
            Line((-24.0562036633, 5.6934817694), (-23.0311434716, 6.8893865682))
            Line((-23.0311434716, 6.8893865682), (-20.4684883356, 8.6547704414))
            Line((-20.4684883356, 8.6547704414), (-16.9946700335, 10.4771014303))
            Line((-16.9946700335, 10.4771014303), (-14.09033034, 11.5807517488))
            Line((-14.09033034, 11.5807517488), (-9.1928122565, 12.1285896748))
            Line((-9.1928122565, 12.1285896748), (-4.6369838528, 11.4452149719))
            Line((-4.6369838528, 11.4452149719), (-1.7052790924, 10.6238322991))
            Line((-1.7052790924, 10.6238322991), (1.1533434658, 9.1877146974))
            Line((1.1533434658, 9.1877146974), (1.9689633045, 8.5978163406))
            Line((1.9689633045, 8.5978163406), (1.9689633045, 6.4337980002))
            Line((1.9689633045, 6.4337980002), (6.524791941, 11.1604705453))
        make_face()
        Polygon((-26.9036013633, 15.8871430904), (-23.4297811985, 14.0648102388), (-24.5117917657, 16.9122032821), (-24.5117917657, 18.7345407903), (-23.6006230116, 20.0443416834), (-20.0129076838, 21.5249862522), (-16.0265564919, 22.6069949567), (-11.2998858094, 23.2903696597), (-5.6620473042, 23.2903696597), (-2.8716025408, 22.4930997938), (-1.8465407193, 21.5249862522), (-1.390957972, 20.5568727106), (-1.390957972, 17.48168841), (1.2855911627, 20.2721264213), (4.9872016534, 33.484030515), (-2.1312802564, 27.2197667509), (-4.580038134, 27.6753548533), (-7.5982743874, 27.6753548533), (-11.2998858094, 27.6753548533), (-14.09033034, 27.1628238261), (-17.5641495734, 26.4794509858), (-20.8671260625, 25.5113355815), (-23.0311434716, 24.4293212891), (-23.4297811985, 24.4293212891), (-26.7327539623, 24.4293212891), (-38.2902911921, 40.1423304444), (-32.4275419116, 24.7140601277), align=None)
        with Locations((14.2299542493, -12.1699558468)):
            Circle(F0_R_2)
        with Locations((14.4696965303, -11.94712984)):
            Circle(F0_R_3, mode=Mode.SUBTRACT)
        Polygon((-30.920324406, -0.6410955102), (-25.0839442015, -1.5165531076), (-39.2646156251, 8.5978163406), (-54.4432774186, 13.9403799549), align=None)
        with Locations((-8.6963499838, -11.8858055258)):
            Circle(F0_R)
        Polygon((-36.9173251092, -23.5243160278), (-40.6554341316, -34.4649702311), (-30.8183096349, -19.2739889026), (-35.5839021504, -20.8293963224), (-39.081171155, -22.8726491332), (-43.0163405836, -25.649478659), align=None)
        Polygon((-29.165674001, -22.5797984749), (-32.4709452689, -28.561739251), (-29.3230675161, -26.4365747571), (-24.994732812, -20.1397966594), align=None)
        with Locations((14.4696965303, -11.94712984)):
            Circle(F0_R_3)
        Polygon((-34.4383716583, -29.4275470078), (-30.8183096349, -24.2327023298), (-35.8010726204, -28.561739251), (-37.1927656233, -31.0804508626), align=None)
    extrude(amount=F2_DEPTH)


solid = Compound([f1.part, f1b.part, f1c.part, f1d.part, f1e.part, f1f.part, f1g.part, f1h.part, f1i.part, f1j.part, f2.part])
